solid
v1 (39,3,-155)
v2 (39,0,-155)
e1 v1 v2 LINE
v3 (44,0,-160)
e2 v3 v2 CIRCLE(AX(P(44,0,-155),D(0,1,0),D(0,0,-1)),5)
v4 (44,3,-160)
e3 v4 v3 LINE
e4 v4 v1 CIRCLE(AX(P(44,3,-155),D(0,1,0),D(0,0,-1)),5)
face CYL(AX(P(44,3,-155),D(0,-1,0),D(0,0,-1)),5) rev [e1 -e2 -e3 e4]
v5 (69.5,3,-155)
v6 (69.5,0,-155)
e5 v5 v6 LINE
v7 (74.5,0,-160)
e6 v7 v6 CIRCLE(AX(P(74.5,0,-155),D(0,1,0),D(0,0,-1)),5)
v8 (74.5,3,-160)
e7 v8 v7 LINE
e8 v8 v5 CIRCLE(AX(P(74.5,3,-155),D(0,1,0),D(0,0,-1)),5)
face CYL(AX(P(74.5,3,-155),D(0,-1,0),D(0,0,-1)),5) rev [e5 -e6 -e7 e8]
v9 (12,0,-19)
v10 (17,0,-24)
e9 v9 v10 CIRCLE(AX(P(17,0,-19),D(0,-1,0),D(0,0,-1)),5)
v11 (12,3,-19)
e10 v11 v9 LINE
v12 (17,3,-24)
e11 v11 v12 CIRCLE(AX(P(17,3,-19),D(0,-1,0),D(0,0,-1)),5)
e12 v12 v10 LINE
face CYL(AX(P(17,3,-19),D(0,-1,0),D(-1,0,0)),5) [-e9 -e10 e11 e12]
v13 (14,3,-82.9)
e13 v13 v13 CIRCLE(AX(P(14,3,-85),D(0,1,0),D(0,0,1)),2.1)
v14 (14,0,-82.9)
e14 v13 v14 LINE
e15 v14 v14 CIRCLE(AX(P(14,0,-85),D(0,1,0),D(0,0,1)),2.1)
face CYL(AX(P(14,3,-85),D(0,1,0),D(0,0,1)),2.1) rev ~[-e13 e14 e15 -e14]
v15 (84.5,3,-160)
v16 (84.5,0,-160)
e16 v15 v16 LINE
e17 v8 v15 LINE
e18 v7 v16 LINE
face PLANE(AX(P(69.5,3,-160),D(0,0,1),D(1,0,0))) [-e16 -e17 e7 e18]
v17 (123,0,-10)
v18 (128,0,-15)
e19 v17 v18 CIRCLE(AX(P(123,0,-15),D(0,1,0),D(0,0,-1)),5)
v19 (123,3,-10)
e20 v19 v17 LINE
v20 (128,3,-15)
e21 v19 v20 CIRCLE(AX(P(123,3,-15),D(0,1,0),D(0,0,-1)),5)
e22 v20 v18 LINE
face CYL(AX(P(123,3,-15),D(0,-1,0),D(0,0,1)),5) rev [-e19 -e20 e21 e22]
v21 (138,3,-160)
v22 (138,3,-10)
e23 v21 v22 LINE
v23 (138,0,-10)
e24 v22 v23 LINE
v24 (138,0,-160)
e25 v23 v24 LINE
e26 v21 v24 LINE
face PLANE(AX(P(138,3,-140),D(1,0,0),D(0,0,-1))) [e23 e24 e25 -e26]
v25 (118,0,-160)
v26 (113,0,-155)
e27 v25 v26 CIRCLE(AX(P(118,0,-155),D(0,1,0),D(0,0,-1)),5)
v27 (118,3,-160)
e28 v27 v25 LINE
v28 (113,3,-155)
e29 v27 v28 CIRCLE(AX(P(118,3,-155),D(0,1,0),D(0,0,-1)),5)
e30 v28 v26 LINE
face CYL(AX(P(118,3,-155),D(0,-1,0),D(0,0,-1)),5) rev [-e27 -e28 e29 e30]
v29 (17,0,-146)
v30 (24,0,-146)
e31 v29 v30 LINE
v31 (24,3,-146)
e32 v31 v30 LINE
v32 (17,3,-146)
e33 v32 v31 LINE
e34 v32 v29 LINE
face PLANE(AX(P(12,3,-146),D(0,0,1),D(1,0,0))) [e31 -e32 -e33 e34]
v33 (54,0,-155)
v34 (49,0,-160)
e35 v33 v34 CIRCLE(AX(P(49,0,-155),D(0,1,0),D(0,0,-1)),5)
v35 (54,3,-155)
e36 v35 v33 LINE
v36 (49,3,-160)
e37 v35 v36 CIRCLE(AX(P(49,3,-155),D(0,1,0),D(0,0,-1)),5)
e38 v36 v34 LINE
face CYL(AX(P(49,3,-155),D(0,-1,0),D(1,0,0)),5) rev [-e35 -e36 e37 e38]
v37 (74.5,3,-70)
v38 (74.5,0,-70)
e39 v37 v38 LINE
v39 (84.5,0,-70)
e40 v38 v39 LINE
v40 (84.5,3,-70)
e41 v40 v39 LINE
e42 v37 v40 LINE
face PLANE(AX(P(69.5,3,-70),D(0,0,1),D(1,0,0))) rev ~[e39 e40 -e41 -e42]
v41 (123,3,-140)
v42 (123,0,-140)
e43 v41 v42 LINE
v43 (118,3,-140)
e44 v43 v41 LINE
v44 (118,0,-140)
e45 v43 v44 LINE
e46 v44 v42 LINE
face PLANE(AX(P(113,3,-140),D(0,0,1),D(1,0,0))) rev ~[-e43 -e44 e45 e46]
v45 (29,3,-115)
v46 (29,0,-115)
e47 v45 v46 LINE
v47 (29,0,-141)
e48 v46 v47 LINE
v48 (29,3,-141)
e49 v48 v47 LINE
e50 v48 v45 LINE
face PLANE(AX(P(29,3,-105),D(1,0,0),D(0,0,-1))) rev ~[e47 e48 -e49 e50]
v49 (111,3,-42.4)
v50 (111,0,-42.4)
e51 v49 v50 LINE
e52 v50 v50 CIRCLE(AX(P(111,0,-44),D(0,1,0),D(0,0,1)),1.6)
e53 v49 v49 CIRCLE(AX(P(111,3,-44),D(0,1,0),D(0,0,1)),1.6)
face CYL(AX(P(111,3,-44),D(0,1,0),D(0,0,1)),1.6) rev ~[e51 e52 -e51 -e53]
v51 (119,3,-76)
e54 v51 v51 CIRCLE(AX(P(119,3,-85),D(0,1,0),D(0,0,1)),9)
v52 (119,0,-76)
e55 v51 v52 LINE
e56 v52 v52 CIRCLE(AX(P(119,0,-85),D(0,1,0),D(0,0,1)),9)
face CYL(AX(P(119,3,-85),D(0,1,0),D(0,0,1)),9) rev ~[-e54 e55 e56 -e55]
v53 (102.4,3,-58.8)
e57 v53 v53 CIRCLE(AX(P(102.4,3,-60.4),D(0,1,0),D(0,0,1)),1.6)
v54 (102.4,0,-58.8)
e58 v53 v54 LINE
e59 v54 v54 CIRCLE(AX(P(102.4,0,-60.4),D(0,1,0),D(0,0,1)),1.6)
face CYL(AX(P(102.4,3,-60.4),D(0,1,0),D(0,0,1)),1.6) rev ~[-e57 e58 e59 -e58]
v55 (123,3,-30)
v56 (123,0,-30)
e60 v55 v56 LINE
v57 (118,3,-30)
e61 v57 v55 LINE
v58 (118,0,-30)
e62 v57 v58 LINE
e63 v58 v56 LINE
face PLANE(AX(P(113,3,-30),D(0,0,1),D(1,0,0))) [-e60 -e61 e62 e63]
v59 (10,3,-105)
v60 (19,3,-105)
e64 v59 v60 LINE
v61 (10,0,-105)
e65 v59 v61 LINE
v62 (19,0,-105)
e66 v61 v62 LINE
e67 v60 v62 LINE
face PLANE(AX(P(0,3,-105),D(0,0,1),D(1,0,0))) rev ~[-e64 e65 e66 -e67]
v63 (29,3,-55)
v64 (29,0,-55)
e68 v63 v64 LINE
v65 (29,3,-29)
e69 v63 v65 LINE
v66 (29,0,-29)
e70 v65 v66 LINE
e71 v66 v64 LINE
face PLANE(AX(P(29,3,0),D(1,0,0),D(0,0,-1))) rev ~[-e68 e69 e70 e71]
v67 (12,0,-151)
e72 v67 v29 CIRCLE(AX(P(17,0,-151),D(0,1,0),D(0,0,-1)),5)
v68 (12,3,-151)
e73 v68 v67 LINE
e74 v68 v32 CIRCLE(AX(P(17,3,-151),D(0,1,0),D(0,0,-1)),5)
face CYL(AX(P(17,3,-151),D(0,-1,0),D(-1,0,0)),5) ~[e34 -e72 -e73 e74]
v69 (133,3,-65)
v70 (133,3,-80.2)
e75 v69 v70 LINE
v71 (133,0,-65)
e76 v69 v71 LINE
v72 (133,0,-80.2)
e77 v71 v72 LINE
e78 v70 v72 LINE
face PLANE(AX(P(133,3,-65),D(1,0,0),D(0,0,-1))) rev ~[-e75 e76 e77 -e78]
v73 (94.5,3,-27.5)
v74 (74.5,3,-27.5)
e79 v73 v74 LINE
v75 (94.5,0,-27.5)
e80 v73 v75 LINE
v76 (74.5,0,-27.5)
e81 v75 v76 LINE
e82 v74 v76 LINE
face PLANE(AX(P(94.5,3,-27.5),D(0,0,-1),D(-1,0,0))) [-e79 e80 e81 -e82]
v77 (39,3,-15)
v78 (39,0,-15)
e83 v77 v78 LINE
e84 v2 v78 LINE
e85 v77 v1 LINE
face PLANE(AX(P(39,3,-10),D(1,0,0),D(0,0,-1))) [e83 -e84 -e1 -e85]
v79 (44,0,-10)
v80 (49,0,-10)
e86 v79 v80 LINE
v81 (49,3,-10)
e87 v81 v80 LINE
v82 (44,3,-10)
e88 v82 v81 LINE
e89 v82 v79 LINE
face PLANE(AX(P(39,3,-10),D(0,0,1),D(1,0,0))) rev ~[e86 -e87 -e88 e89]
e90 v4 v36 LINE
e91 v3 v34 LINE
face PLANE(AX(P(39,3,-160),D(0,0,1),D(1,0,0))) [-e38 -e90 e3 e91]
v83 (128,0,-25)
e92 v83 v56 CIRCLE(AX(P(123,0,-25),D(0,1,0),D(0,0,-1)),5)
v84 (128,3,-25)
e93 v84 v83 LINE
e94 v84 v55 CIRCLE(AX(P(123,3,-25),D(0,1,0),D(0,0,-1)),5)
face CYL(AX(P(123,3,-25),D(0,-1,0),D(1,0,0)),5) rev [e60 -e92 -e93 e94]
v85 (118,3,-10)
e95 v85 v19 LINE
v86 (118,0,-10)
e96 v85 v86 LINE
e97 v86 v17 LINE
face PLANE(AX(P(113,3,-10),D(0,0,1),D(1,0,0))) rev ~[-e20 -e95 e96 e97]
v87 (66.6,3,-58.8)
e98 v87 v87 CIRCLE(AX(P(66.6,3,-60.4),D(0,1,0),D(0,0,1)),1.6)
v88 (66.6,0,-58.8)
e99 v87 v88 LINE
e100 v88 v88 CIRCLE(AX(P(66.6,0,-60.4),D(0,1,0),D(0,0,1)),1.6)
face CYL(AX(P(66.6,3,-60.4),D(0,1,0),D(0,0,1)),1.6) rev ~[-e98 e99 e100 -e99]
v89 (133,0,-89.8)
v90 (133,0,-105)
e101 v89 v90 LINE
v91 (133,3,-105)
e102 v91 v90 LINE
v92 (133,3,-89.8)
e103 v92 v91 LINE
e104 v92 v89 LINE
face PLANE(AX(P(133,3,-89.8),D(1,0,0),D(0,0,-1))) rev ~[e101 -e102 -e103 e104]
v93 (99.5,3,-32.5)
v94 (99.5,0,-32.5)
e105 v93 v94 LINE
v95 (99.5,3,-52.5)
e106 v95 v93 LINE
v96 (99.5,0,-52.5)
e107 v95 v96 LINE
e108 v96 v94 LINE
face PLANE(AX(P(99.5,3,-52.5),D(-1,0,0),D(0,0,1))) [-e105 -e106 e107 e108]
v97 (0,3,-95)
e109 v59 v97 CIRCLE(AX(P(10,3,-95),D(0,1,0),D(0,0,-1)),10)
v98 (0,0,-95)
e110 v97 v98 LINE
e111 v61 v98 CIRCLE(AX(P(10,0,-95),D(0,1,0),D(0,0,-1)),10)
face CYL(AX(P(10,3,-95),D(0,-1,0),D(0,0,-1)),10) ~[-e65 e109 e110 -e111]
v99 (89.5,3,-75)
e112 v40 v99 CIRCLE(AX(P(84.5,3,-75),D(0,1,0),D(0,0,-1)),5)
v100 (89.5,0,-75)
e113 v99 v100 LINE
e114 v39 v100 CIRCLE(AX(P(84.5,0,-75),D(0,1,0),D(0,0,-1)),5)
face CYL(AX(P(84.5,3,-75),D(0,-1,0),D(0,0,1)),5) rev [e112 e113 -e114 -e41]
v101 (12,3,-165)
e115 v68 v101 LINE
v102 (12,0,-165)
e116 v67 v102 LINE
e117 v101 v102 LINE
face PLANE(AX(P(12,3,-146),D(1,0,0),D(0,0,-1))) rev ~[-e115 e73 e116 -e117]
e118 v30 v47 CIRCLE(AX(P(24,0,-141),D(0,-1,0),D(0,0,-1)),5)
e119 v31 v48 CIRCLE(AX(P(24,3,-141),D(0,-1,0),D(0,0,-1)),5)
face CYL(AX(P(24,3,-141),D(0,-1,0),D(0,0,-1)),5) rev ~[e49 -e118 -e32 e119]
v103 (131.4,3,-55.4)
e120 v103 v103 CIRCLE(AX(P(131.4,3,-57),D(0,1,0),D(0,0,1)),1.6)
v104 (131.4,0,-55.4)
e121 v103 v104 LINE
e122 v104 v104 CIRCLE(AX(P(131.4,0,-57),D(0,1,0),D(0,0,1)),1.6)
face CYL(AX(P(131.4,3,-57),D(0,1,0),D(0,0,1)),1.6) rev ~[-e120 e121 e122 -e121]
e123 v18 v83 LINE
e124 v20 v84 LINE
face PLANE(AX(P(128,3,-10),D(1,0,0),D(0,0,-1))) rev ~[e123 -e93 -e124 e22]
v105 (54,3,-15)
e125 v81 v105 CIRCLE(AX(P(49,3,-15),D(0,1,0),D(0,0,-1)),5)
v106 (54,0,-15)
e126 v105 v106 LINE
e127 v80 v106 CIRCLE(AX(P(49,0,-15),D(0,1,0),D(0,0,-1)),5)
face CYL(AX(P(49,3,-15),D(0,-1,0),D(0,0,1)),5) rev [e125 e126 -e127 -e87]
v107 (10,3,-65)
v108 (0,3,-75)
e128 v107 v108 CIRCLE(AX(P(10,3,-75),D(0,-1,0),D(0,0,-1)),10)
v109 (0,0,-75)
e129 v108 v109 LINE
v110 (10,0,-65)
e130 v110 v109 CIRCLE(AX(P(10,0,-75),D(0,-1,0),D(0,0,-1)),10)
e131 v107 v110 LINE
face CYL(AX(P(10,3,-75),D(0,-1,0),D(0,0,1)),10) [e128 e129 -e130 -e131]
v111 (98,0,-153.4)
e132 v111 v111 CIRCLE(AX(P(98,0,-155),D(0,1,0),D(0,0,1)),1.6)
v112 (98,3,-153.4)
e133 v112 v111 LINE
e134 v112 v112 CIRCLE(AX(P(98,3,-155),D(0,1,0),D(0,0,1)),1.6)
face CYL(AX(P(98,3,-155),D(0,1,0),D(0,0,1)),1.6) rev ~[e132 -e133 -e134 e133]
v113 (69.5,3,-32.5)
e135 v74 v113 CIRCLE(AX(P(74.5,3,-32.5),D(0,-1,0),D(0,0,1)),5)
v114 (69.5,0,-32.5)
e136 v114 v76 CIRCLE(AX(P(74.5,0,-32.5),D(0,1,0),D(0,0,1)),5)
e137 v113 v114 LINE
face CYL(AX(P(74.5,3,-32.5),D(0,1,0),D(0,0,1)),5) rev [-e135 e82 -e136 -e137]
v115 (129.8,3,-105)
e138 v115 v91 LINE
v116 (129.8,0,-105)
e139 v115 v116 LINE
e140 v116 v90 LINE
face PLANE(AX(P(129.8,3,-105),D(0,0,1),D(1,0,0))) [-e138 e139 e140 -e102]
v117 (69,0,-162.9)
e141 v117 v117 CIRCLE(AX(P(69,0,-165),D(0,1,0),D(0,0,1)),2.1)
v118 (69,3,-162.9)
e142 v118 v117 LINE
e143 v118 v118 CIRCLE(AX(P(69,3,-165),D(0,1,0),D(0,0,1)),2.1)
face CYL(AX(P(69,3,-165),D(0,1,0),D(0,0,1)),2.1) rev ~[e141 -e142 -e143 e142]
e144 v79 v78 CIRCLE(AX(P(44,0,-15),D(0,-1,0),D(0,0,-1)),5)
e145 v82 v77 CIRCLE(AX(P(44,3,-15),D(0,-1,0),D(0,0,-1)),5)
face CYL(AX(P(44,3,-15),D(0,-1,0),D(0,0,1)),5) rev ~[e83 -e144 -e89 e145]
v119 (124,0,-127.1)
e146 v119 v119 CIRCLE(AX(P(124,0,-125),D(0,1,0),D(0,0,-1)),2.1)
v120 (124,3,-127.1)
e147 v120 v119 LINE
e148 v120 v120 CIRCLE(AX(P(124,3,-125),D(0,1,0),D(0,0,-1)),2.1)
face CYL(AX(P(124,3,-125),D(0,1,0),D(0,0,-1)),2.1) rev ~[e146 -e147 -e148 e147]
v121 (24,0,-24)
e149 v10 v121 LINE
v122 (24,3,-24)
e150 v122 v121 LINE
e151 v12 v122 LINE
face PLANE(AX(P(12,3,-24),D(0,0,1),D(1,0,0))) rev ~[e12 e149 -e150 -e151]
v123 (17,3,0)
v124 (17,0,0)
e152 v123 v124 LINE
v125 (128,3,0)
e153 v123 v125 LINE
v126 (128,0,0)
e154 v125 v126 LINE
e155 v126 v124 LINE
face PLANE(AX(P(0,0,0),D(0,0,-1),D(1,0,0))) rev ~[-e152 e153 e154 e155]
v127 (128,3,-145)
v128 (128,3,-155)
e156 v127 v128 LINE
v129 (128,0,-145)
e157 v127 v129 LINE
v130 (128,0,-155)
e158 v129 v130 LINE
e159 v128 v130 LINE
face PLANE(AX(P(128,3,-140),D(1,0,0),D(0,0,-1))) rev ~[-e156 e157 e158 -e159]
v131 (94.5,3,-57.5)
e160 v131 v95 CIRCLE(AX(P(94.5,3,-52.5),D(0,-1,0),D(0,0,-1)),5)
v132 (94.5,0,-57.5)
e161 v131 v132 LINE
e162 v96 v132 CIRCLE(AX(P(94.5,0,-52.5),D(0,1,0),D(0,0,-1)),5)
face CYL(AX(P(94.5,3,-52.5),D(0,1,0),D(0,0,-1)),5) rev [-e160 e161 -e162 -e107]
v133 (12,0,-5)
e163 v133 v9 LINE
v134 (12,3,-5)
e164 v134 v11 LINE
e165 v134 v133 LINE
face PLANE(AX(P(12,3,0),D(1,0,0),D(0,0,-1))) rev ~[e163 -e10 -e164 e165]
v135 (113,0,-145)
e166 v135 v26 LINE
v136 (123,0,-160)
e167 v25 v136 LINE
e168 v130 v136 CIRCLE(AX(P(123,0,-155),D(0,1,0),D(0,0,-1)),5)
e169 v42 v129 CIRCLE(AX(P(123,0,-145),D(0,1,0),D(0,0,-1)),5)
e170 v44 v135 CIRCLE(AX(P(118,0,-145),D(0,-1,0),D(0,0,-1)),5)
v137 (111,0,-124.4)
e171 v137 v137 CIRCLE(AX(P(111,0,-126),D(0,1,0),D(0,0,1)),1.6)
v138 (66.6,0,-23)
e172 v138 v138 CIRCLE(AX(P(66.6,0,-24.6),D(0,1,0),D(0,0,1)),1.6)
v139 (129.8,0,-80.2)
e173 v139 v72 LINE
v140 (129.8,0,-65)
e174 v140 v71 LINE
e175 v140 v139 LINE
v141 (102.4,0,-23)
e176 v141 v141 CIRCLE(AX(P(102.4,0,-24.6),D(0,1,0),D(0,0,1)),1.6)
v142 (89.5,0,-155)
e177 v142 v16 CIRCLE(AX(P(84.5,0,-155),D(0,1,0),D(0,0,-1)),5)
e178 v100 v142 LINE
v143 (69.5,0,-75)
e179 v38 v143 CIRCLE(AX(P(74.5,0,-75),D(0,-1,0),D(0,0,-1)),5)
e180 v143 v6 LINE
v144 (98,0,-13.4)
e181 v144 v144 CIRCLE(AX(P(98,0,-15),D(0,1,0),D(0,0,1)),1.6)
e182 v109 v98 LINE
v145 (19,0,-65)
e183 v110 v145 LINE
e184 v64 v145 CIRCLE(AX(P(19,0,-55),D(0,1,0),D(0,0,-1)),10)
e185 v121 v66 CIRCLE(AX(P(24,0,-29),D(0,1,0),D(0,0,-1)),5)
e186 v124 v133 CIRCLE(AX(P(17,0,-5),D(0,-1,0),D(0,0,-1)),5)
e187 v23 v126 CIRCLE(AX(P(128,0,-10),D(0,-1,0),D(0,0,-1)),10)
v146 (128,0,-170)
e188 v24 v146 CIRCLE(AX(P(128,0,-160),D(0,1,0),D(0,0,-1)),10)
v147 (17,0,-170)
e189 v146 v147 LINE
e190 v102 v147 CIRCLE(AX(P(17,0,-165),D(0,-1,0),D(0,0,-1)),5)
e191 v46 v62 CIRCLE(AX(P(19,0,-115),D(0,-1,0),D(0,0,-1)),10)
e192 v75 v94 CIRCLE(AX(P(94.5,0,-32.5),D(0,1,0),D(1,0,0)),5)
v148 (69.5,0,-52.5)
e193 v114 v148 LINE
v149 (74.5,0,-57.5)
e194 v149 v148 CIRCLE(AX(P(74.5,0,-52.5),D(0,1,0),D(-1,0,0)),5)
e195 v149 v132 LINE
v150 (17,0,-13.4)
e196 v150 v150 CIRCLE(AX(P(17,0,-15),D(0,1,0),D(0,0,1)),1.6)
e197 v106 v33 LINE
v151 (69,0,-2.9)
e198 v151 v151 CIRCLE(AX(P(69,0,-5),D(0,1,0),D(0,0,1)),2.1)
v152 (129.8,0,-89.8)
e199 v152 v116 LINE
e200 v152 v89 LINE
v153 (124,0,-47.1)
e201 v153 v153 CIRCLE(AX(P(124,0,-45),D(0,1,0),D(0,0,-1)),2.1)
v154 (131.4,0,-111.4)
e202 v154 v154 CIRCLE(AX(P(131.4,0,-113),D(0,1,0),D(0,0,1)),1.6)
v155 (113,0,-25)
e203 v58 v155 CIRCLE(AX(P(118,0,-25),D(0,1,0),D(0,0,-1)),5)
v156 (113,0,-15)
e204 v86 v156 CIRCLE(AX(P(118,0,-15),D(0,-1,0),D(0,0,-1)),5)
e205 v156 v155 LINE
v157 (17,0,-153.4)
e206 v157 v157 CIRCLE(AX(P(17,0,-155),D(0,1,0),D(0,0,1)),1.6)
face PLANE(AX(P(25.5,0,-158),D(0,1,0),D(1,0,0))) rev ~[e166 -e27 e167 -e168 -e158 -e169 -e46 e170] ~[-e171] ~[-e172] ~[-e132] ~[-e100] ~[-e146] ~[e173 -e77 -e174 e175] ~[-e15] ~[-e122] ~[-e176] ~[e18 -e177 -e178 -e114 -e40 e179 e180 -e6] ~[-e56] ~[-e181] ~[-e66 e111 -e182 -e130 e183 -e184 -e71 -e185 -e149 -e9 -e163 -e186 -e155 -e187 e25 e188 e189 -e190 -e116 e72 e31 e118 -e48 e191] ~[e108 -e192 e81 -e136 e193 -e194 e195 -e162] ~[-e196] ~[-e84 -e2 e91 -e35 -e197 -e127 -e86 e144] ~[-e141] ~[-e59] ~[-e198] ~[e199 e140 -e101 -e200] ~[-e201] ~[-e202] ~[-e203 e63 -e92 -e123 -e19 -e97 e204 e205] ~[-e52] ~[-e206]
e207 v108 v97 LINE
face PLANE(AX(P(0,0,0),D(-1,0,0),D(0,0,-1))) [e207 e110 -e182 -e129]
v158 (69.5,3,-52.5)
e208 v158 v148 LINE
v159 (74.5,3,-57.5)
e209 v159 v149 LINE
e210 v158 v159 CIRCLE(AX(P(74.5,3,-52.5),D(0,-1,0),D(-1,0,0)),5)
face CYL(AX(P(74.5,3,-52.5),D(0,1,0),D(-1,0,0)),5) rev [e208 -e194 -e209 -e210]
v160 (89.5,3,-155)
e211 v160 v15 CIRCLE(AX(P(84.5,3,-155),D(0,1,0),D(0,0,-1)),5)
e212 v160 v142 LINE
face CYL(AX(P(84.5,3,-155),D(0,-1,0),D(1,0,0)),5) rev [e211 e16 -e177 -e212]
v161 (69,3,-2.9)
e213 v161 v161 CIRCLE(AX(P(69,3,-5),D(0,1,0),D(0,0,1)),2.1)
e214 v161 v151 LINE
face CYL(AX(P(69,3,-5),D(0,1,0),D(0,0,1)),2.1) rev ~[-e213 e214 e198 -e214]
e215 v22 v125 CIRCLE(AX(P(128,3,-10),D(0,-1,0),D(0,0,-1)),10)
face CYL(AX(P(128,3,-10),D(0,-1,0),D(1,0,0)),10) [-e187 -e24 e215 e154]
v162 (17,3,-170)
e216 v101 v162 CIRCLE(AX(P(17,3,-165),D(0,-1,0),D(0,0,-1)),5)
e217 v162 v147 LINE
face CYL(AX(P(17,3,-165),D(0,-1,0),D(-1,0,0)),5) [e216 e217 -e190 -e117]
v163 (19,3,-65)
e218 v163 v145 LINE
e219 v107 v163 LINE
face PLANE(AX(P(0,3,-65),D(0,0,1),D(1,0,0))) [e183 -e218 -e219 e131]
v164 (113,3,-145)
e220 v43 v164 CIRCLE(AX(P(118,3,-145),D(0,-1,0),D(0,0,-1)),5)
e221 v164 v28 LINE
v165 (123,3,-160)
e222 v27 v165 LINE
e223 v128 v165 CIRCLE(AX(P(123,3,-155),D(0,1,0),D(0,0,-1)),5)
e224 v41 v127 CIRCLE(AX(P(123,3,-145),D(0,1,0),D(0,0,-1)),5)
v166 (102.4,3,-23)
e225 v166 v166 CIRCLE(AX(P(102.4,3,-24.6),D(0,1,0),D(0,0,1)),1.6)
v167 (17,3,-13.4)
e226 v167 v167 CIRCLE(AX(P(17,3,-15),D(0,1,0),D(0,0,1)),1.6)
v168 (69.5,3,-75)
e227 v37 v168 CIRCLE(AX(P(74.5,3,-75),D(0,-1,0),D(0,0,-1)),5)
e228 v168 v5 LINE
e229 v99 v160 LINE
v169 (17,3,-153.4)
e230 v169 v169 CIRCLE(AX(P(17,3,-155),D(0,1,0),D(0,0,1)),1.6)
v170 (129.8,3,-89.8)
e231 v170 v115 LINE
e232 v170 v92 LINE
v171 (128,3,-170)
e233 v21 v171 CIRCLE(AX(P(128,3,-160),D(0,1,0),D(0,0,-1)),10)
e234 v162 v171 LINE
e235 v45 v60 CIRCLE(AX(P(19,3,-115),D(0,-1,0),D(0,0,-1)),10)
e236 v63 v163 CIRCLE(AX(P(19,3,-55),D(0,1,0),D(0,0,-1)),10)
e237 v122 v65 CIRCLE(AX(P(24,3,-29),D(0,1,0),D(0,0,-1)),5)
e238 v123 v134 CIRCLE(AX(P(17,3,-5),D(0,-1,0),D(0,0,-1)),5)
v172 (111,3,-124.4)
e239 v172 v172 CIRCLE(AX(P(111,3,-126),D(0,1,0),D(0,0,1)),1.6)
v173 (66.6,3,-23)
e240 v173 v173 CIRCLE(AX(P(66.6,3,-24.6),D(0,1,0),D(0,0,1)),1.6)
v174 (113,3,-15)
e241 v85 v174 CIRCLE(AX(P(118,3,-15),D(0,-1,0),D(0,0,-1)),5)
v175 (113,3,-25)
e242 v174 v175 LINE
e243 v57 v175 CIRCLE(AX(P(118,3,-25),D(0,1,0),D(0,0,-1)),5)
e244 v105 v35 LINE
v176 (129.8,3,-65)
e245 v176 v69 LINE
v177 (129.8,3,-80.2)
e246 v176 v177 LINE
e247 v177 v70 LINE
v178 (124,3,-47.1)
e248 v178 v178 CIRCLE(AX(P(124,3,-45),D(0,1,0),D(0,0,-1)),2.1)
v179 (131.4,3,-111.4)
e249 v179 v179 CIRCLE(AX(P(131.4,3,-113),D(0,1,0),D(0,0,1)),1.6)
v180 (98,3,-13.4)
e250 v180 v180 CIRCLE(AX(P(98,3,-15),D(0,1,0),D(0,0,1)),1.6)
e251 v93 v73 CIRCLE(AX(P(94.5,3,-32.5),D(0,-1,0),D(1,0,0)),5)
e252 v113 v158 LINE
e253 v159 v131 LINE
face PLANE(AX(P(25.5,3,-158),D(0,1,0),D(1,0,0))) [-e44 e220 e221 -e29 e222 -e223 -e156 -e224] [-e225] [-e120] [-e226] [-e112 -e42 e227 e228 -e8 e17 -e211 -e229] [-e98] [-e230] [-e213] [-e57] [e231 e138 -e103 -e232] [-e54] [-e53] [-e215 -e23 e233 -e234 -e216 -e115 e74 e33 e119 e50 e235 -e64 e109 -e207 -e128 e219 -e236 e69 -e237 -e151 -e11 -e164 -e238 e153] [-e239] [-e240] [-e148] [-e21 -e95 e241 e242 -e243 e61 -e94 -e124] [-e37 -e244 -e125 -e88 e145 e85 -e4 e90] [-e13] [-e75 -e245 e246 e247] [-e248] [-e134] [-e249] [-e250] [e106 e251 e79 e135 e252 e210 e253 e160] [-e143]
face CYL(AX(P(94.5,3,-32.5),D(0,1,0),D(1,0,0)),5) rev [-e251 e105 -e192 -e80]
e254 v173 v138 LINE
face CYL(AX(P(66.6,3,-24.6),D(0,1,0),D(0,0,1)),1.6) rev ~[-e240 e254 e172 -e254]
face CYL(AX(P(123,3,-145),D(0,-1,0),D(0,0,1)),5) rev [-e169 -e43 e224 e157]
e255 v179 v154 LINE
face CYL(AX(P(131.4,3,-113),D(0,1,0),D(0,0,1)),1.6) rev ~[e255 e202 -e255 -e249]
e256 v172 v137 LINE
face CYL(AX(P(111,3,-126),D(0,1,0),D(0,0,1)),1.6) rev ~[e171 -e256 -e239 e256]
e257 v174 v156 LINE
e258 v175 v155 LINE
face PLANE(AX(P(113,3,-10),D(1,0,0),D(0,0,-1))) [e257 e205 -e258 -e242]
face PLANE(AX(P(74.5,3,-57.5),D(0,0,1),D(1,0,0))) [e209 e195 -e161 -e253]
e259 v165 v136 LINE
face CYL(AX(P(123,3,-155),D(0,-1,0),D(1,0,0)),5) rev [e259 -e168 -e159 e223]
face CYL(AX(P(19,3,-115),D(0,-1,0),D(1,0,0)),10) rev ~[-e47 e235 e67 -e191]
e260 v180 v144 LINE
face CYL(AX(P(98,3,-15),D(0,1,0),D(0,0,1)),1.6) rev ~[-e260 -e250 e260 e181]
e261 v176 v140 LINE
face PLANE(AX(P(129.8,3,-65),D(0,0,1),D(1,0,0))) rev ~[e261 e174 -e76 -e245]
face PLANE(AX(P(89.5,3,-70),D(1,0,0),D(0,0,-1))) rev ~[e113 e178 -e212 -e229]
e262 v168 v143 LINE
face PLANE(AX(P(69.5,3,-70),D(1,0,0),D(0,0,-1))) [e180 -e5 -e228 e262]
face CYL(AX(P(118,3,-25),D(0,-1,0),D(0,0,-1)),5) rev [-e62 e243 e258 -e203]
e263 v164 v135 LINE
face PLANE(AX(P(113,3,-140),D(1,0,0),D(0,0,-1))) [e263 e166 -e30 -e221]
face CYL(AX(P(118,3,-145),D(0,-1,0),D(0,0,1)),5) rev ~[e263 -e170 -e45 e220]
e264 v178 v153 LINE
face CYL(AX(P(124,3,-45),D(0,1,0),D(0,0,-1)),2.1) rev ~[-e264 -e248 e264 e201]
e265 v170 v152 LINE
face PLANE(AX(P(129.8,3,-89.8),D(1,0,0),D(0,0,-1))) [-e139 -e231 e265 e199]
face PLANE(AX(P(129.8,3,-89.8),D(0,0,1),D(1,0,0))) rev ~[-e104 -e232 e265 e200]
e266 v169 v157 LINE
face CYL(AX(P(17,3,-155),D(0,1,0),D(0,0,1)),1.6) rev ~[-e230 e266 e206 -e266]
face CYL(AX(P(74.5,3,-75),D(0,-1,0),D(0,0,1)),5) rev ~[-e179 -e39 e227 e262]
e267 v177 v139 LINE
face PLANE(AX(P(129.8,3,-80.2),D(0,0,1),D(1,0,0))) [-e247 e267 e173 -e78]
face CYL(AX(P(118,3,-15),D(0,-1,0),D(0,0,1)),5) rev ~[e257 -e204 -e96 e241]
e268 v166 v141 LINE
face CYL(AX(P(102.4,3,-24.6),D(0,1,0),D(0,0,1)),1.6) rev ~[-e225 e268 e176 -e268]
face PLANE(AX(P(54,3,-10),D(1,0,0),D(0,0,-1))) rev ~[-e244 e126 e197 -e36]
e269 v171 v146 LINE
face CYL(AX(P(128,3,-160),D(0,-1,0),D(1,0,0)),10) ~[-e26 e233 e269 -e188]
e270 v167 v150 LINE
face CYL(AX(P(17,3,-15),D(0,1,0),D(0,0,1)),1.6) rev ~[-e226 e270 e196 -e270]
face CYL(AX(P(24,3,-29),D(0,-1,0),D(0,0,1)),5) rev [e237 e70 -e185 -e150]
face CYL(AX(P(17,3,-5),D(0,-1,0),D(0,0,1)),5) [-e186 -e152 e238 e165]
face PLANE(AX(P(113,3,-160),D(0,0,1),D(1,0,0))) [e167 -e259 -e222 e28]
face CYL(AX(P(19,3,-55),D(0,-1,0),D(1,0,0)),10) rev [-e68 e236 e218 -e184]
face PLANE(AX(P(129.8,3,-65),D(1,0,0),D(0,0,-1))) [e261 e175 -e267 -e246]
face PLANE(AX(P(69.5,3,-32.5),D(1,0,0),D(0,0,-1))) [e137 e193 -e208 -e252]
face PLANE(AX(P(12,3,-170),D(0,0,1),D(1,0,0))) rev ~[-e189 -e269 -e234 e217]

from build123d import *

# Parameters (mm, degrees)
SKETCH1_W           = 138
SKETCH1_H           = 170
BOSS_EXTRUDE1_DEPTH = 3
SKETCH2_R           = 2.1
SKETCH2_W           = 29
SKETCH2_H           = 30
CUT_EXTRUDE1_DEPTH  = 3
SKETCH3_R           = 2.1
CUT_EXTRUDE2_DEPTH  = 219.981734398
SKETCH5_W           = 29
SKETCH5_H           = 35
CUT_EXTRUDE3_DEPTH  = 219.981734398
SKETCH6_R           = 1.6
SKETCH6_W           = 3.2
SKETCH6_H           = 15.2
CUT_EXTRUDE4_DEPTH  = 219.981734398
SKETCH9_W           = 29
SKETCH9_H           = 30
BOSS_EXTRUDE2_DEPTH = 3
SKETCH10_R          = 1.6
CUT_EXTRUDE5_DEPTH  = 219.981734398
FILLET1_R           = 10
FILLET2_R           = 10
SKETCH12_W          = 15
SKETCH12_H          = 150
CUT_EXTRUDE6_DEPTH  = 219.981734398
FILLET3_R           = 5
SKETCH13_R          = 9
SKETCH13_W          = 15
SKETCH13_H          = 20
CUT_EXTRUDE7_DEPTH  = 219.981734398
FILLET4_R           = 5
SKETCH14_W          = 27
SKETCH14_H          = 24
SKETCH14_R          = 1.6
BOSS_EXTRUDE3_DEPTH = 3
SKETCH15_R          = 1.6
CUT_EXTRUDE8_DEPTH  = 219.981734398
FILLET5_R           = 5
SKETCH16_W          = 20
SKETCH16_H          = 90
CUT_EXTRUDE9_DEPTH  = 219.981734398
FILLET6_R           = 5


with BuildPart() as part:
    # Sketch1 → Boss-Extrude1 (new body)
    with BuildSketch(Plane(origin=(0, 0, 0), x_dir=(1, 0, 0), z_dir=(0, 1, 0))):
        with Locations((69, 85)):
            Rectangle(SKETCH1_W, SKETCH1_H)
    extrude(amount=BOSS_EXTRUDE1_DEPTH)

    # Sketch2 → Cut-Extrude1 (cut)
    with BuildSketch(Plane(origin=(0, 3, 0), x_dir=(1, 0, 0), z_dir=(0, 1, 0))):
        with Locations(Location((69, 165, 0), (0, 0, 270))):
            Circle(SKETCH2_R)
        with Locations(Location((69, 5, 0), (0, 0, 270))):
            Circle(SKETCH2_R)
        with Locations((14.5, 155)):
            Rectangle(SKETCH2_W, SKETCH2_H)
        with Locations((123.5, 155)):
            Rectangle(SKETCH2_W, SKETCH2_H)
        with Locations((123.5, 15)):
            Rectangle(SKETCH2_W, SKETCH2_H)
        with Locations((14.5, 15)):
            Rectangle(SKETCH2_W, SKETCH2_H)
    extrude(amount=-CUT_EXTRUDE1_DEPTH, mode=Mode.SUBTRACT)

    # Sketch3 → Cut-Extrude2 (cut, through all)
    with BuildSketch(Plane(origin=(0, 3, 0), x_dir=(1, 0, 0), z_dir=(0, 1, 0))):
        with Locations(Location((14, 125, 0), (0, 0, 270))):
            Circle(SKETCH3_R)
        with Locations(Location((14, 45, 0), (0, 0, 270))):
            Circle(SKETCH3_R)
        with Locations(Location((14, 85, 0), (0, 0, 270))):
            Circle(SKETCH3_R)
        with Locations(Location((124, 45, 0), (0, 0, 90))):
            Circle(SKETCH3_R)
        with Locations(Location((124, 125, 0), (0, 0, 90))):
            Circle(SKETCH3_R)
    extrude(amount=-CUT_EXTRUDE2_DEPTH, mode=Mode.SUBTRACT)

    # Sketch5 → Cut-Extrude3 (cut, through all)
    with BuildSketch(Plane(origin=(0, 3, 0), x_dir=(1, 0, 0), z_dir=(0, 1, 0))):
        with Locations((14.5, 122.5)):
            Rectangle(SKETCH5_W, SKETCH5_H)
        with Locations((14.5, 47.5)):
            Rectangle(SKETCH5_W, SKETCH5_H)
    extrude(amount=-CUT_EXTRUDE3_DEPTH, mode=Mode.SUBTRACT)

    # Sketch6 → Cut-Extrude4 (cut, through all)
    with BuildSketch(Plane(origin=(0, 3, 0), x_dir=(1, 0, 0), z_dir=(0, 1, 0))):
        with Locations(Location((131.4, 113, 0), (0, 0, 270))):
            Circle(SKETCH6_R)
        with Locations(Location((131.4, 57, 0), (0, 0, 270))):
            Circle(SKETCH6_R)
        with Locations((131.4, 97.4)):
            Rectangle(SKETCH6_W, SKETCH6_H)
        with Locations((131.4, 72.6)):
            Rectangle(SKETCH6_W, SKETCH6_H)
    extrude(amount=-CUT_EXTRUDE4_DEPTH, mode=Mode.SUBTRACT)

    # Sketch9 → Boss-Extrude2 (add)
    with BuildSketch(Plane(origin=(0, 3, 0), x_dir=(1, 0, 0), z_dir=(0, 1, 0))):
        with Locations((123.5, 155)):
            Rectangle(SKETCH9_W, SKETCH9_H)
        with Locations((123.5, 15)):
            Rectangle(SKETCH9_W, SKETCH9_H)
    extrude(amount=-BOSS_EXTRUDE2_DEPTH)

    # Sketch10 → Cut-Extrude5 (cut, through all)
    with BuildSketch(Plane(origin=(0, 3, 0), x_dir=(1, 0, 0), z_dir=(0, 1, 0))):
        with Locations(Location((66.6, 60.4, 0), (0, 0, 270))):
            Circle(SKETCH10_R)
        with Locations(Location((102.4, 60.4, 0), (0, 0, 270))):
            Circle(SKETCH10_R)
        with Locations(Location((66.6, 24.6, 0), (0, 0, 270))):
            Circle(SKETCH10_R)
        with Locations(Location((102.4, 24.6, 0), (0, 0, 270))):
            Circle(SKETCH10_R)
        with BuildLine():
            Line((74.5, 57.5), (94.5, 57.5))
            ThreePointArc((94.5, 57.5), (98.035533906, 56.035533906), (99.5, 52.5))
            Line((99.5, 52.5), (99.5, 32.5))
            ThreePointArc((99.5, 32.5), (98.035533906, 28.964466094), (94.5, 27.5))
            Line((94.5, 27.5), (74.5, 27.5))
            ThreePointArc((74.5, 27.5), (70.964466094, 28.964466094), (69.5, 32.5))
            Line((69.5, 32.5), (69.5, 52.5))
            ThreePointArc((69.5, 52.5), (70.964466094, 56.035533906), (74.5, 57.5))
        make_face()
    extrude(amount=-CUT_EXTRUDE5_DEPTH, mode=Mode.SUBTRACT)

    # Fillet1
    fillet1_edges = [part.edges().sort_by_distance(p)[0] for p in [
        (0, 1.5, -105),
        (0, 1.5, -65),
        (138, 1.5, -170),
        (138, 1.5, 0),
        (29, 1.5, 0),
        (29, 1.5, -170),
    ]]
    fillet(fillet1_edges, radius=FILLET1_R)

    # Fillet2
    fillet2_edges = [part.edges().sort_by_distance(p)[0] for p in [
        (29, 1.5, -105),
        (29, 1.5, -65),
    ]]
    fillet(fillet2_edges, radius=FILLET2_R)

    # Sketch12 → Cut-Extrude6 (cut, through all)
    with BuildSketch(Plane(origin=(0, 3, 0), x_dir=(1, 0, 0), z_dir=(0, 1, 0))):
        with Locations((46.5, 85)):
            Rectangle(SKETCH12_W, SKETCH12_H)
    extrude(amount=-CUT_EXTRUDE6_DEPTH, mode=Mode.SUBTRACT)

    # Fillet3
    fillet3_edges = [part.edges().sort_by_distance(p)[0] for p in [
        (39, 1.5, -10),
        (39, 1.5, -160),
        (54, 1.5, -160),
        (54, 1.5, -10),
    ]]
    fillet(fillet3_edges, radius=FILLET3_R)

    # Sketch13 → Cut-Extrude7 (cut, through all)
    with BuildSketch(Plane(origin=(0, 3, 0), x_dir=(1, 0, 0), z_dir=(0, 1, 0))):
        with Locations(Location((119, 85, 0), (0, 0, 270))):
            Circle(SKETCH13_R)
        with Locations((120.5, 150)):
            Rectangle(SKETCH13_W, SKETCH13_H)
        with Locations((120.5, 20)):
            Rectangle(SKETCH13_W, SKETCH13_H)
    extrude(amount=-CUT_EXTRUDE7_DEPTH, mode=Mode.SUBTRACT)

    # Fillet4
    fillet4_edges = [part.edges().sort_by_distance(p)[0] for p in [
        (113, 1.5, -140),
        (113, 1.5, -160),
        (128, 1.5, -160),
        (128, 1.5, -140),
        (113, 1.5, -10),
        (113, 1.5, -30),
        (128, 1.5, -30),
        (128, 1.5, -10),
    ]]
    fillet(fillet4_edges, radius=FILLET4_R)

    # Sketch14 → Boss-Extrude3 (add)
    # profile 1 of 2: a face of its own
    with BuildSketch(Plane(origin=(0, 3, 0), x_dir=(1, 0, 0), z_dir=(0, 1, 0))):
        with Locations((25.5, 158)):
            Rectangle(SKETCH14_W, SKETCH14_H)
        with Locations(Location((17, 155, 0), (0, 0, 270))):
            Circle(SKETCH14_R, mode=Mode.SUBTRACT)
    # profile 2 of 2: a face of its own
    with BuildSketch(Plane(origin=(0, 3, 0), x_dir=(1, 0, 0), z_dir=(0, 1, 0))):
        with Locations((25.5, 12)):
            Rectangle(SKETCH14_W, SKETCH14_H)
        with Locations(Location((17, 15, 0), (0, 0, 270))):
            Circle(SKETCH14_R, mode=Mode.SUBTRACT)
    extrude(amount=-BOSS_EXTRUDE3_DEPTH)

    # Sketch15 → Cut-Extrude8 (cut, through all)
    with BuildSketch(Plane(origin=(0, 3, 0), x_dir=(1, 0, 0), z_dir=(0, 1, 0))):
        with Locations(Location((111, 44, 0), (0, 0, 270))):
            Circle(SKETCH15_R)
        with Locations(Location((111, 126, 0), (0, 0, 270))):
            Circle(SKETCH15_R)
        with Locations(Location((98, 155, 0), (0, 0, 270))):
            Circle(SKETCH15_R)
        with Locations(Location((98, 15, 0), (0, 0, 270))):
            Circle(SKETCH15_R)
    extrude(amount=-CUT_EXTRUDE8_DEPTH, mode=Mode.SUBTRACT)

    # Fillet5
    fillet5_edges = [part.edges().sort_by_distance(p)[0] for p in [
        (29, 1.5, -146),
        (12, 1.5, -146),
        (12, 1.5, -170),
        (12, 1.5, -24),
        (12, 1.5, 0),
        (29, 1.5, -24),
    ]]
    fillet(fillet5_edges, radius=FILLET5_R)

    # Sketch16 → Cut-Extrude9 (cut, through all)
    with BuildSketch(Plane(origin=(0, 3, 0), x_dir=(1, 0, 0), z_dir=(0, 1, 0))):
        with Locations((79.5, 115)):
            Rectangle(SKETCH16_W, SKETCH16_H)
    extrude(amount=-CUT_EXTRUDE9_DEPTH, mode=Mode.SUBTRACT)

    # Fillet6
    fillet6_edges = [part.edges().sort_by_distance(p)[0] for p in [
        (69.5, 1.5, -70),
        (69.5, 1.5, -160),
        (89.5, 1.5, -160),
        (89.5, 1.5, -70),
    ]]
    fillet(fillet6_edges, radius=FILLET6_R)


solid = part.part
